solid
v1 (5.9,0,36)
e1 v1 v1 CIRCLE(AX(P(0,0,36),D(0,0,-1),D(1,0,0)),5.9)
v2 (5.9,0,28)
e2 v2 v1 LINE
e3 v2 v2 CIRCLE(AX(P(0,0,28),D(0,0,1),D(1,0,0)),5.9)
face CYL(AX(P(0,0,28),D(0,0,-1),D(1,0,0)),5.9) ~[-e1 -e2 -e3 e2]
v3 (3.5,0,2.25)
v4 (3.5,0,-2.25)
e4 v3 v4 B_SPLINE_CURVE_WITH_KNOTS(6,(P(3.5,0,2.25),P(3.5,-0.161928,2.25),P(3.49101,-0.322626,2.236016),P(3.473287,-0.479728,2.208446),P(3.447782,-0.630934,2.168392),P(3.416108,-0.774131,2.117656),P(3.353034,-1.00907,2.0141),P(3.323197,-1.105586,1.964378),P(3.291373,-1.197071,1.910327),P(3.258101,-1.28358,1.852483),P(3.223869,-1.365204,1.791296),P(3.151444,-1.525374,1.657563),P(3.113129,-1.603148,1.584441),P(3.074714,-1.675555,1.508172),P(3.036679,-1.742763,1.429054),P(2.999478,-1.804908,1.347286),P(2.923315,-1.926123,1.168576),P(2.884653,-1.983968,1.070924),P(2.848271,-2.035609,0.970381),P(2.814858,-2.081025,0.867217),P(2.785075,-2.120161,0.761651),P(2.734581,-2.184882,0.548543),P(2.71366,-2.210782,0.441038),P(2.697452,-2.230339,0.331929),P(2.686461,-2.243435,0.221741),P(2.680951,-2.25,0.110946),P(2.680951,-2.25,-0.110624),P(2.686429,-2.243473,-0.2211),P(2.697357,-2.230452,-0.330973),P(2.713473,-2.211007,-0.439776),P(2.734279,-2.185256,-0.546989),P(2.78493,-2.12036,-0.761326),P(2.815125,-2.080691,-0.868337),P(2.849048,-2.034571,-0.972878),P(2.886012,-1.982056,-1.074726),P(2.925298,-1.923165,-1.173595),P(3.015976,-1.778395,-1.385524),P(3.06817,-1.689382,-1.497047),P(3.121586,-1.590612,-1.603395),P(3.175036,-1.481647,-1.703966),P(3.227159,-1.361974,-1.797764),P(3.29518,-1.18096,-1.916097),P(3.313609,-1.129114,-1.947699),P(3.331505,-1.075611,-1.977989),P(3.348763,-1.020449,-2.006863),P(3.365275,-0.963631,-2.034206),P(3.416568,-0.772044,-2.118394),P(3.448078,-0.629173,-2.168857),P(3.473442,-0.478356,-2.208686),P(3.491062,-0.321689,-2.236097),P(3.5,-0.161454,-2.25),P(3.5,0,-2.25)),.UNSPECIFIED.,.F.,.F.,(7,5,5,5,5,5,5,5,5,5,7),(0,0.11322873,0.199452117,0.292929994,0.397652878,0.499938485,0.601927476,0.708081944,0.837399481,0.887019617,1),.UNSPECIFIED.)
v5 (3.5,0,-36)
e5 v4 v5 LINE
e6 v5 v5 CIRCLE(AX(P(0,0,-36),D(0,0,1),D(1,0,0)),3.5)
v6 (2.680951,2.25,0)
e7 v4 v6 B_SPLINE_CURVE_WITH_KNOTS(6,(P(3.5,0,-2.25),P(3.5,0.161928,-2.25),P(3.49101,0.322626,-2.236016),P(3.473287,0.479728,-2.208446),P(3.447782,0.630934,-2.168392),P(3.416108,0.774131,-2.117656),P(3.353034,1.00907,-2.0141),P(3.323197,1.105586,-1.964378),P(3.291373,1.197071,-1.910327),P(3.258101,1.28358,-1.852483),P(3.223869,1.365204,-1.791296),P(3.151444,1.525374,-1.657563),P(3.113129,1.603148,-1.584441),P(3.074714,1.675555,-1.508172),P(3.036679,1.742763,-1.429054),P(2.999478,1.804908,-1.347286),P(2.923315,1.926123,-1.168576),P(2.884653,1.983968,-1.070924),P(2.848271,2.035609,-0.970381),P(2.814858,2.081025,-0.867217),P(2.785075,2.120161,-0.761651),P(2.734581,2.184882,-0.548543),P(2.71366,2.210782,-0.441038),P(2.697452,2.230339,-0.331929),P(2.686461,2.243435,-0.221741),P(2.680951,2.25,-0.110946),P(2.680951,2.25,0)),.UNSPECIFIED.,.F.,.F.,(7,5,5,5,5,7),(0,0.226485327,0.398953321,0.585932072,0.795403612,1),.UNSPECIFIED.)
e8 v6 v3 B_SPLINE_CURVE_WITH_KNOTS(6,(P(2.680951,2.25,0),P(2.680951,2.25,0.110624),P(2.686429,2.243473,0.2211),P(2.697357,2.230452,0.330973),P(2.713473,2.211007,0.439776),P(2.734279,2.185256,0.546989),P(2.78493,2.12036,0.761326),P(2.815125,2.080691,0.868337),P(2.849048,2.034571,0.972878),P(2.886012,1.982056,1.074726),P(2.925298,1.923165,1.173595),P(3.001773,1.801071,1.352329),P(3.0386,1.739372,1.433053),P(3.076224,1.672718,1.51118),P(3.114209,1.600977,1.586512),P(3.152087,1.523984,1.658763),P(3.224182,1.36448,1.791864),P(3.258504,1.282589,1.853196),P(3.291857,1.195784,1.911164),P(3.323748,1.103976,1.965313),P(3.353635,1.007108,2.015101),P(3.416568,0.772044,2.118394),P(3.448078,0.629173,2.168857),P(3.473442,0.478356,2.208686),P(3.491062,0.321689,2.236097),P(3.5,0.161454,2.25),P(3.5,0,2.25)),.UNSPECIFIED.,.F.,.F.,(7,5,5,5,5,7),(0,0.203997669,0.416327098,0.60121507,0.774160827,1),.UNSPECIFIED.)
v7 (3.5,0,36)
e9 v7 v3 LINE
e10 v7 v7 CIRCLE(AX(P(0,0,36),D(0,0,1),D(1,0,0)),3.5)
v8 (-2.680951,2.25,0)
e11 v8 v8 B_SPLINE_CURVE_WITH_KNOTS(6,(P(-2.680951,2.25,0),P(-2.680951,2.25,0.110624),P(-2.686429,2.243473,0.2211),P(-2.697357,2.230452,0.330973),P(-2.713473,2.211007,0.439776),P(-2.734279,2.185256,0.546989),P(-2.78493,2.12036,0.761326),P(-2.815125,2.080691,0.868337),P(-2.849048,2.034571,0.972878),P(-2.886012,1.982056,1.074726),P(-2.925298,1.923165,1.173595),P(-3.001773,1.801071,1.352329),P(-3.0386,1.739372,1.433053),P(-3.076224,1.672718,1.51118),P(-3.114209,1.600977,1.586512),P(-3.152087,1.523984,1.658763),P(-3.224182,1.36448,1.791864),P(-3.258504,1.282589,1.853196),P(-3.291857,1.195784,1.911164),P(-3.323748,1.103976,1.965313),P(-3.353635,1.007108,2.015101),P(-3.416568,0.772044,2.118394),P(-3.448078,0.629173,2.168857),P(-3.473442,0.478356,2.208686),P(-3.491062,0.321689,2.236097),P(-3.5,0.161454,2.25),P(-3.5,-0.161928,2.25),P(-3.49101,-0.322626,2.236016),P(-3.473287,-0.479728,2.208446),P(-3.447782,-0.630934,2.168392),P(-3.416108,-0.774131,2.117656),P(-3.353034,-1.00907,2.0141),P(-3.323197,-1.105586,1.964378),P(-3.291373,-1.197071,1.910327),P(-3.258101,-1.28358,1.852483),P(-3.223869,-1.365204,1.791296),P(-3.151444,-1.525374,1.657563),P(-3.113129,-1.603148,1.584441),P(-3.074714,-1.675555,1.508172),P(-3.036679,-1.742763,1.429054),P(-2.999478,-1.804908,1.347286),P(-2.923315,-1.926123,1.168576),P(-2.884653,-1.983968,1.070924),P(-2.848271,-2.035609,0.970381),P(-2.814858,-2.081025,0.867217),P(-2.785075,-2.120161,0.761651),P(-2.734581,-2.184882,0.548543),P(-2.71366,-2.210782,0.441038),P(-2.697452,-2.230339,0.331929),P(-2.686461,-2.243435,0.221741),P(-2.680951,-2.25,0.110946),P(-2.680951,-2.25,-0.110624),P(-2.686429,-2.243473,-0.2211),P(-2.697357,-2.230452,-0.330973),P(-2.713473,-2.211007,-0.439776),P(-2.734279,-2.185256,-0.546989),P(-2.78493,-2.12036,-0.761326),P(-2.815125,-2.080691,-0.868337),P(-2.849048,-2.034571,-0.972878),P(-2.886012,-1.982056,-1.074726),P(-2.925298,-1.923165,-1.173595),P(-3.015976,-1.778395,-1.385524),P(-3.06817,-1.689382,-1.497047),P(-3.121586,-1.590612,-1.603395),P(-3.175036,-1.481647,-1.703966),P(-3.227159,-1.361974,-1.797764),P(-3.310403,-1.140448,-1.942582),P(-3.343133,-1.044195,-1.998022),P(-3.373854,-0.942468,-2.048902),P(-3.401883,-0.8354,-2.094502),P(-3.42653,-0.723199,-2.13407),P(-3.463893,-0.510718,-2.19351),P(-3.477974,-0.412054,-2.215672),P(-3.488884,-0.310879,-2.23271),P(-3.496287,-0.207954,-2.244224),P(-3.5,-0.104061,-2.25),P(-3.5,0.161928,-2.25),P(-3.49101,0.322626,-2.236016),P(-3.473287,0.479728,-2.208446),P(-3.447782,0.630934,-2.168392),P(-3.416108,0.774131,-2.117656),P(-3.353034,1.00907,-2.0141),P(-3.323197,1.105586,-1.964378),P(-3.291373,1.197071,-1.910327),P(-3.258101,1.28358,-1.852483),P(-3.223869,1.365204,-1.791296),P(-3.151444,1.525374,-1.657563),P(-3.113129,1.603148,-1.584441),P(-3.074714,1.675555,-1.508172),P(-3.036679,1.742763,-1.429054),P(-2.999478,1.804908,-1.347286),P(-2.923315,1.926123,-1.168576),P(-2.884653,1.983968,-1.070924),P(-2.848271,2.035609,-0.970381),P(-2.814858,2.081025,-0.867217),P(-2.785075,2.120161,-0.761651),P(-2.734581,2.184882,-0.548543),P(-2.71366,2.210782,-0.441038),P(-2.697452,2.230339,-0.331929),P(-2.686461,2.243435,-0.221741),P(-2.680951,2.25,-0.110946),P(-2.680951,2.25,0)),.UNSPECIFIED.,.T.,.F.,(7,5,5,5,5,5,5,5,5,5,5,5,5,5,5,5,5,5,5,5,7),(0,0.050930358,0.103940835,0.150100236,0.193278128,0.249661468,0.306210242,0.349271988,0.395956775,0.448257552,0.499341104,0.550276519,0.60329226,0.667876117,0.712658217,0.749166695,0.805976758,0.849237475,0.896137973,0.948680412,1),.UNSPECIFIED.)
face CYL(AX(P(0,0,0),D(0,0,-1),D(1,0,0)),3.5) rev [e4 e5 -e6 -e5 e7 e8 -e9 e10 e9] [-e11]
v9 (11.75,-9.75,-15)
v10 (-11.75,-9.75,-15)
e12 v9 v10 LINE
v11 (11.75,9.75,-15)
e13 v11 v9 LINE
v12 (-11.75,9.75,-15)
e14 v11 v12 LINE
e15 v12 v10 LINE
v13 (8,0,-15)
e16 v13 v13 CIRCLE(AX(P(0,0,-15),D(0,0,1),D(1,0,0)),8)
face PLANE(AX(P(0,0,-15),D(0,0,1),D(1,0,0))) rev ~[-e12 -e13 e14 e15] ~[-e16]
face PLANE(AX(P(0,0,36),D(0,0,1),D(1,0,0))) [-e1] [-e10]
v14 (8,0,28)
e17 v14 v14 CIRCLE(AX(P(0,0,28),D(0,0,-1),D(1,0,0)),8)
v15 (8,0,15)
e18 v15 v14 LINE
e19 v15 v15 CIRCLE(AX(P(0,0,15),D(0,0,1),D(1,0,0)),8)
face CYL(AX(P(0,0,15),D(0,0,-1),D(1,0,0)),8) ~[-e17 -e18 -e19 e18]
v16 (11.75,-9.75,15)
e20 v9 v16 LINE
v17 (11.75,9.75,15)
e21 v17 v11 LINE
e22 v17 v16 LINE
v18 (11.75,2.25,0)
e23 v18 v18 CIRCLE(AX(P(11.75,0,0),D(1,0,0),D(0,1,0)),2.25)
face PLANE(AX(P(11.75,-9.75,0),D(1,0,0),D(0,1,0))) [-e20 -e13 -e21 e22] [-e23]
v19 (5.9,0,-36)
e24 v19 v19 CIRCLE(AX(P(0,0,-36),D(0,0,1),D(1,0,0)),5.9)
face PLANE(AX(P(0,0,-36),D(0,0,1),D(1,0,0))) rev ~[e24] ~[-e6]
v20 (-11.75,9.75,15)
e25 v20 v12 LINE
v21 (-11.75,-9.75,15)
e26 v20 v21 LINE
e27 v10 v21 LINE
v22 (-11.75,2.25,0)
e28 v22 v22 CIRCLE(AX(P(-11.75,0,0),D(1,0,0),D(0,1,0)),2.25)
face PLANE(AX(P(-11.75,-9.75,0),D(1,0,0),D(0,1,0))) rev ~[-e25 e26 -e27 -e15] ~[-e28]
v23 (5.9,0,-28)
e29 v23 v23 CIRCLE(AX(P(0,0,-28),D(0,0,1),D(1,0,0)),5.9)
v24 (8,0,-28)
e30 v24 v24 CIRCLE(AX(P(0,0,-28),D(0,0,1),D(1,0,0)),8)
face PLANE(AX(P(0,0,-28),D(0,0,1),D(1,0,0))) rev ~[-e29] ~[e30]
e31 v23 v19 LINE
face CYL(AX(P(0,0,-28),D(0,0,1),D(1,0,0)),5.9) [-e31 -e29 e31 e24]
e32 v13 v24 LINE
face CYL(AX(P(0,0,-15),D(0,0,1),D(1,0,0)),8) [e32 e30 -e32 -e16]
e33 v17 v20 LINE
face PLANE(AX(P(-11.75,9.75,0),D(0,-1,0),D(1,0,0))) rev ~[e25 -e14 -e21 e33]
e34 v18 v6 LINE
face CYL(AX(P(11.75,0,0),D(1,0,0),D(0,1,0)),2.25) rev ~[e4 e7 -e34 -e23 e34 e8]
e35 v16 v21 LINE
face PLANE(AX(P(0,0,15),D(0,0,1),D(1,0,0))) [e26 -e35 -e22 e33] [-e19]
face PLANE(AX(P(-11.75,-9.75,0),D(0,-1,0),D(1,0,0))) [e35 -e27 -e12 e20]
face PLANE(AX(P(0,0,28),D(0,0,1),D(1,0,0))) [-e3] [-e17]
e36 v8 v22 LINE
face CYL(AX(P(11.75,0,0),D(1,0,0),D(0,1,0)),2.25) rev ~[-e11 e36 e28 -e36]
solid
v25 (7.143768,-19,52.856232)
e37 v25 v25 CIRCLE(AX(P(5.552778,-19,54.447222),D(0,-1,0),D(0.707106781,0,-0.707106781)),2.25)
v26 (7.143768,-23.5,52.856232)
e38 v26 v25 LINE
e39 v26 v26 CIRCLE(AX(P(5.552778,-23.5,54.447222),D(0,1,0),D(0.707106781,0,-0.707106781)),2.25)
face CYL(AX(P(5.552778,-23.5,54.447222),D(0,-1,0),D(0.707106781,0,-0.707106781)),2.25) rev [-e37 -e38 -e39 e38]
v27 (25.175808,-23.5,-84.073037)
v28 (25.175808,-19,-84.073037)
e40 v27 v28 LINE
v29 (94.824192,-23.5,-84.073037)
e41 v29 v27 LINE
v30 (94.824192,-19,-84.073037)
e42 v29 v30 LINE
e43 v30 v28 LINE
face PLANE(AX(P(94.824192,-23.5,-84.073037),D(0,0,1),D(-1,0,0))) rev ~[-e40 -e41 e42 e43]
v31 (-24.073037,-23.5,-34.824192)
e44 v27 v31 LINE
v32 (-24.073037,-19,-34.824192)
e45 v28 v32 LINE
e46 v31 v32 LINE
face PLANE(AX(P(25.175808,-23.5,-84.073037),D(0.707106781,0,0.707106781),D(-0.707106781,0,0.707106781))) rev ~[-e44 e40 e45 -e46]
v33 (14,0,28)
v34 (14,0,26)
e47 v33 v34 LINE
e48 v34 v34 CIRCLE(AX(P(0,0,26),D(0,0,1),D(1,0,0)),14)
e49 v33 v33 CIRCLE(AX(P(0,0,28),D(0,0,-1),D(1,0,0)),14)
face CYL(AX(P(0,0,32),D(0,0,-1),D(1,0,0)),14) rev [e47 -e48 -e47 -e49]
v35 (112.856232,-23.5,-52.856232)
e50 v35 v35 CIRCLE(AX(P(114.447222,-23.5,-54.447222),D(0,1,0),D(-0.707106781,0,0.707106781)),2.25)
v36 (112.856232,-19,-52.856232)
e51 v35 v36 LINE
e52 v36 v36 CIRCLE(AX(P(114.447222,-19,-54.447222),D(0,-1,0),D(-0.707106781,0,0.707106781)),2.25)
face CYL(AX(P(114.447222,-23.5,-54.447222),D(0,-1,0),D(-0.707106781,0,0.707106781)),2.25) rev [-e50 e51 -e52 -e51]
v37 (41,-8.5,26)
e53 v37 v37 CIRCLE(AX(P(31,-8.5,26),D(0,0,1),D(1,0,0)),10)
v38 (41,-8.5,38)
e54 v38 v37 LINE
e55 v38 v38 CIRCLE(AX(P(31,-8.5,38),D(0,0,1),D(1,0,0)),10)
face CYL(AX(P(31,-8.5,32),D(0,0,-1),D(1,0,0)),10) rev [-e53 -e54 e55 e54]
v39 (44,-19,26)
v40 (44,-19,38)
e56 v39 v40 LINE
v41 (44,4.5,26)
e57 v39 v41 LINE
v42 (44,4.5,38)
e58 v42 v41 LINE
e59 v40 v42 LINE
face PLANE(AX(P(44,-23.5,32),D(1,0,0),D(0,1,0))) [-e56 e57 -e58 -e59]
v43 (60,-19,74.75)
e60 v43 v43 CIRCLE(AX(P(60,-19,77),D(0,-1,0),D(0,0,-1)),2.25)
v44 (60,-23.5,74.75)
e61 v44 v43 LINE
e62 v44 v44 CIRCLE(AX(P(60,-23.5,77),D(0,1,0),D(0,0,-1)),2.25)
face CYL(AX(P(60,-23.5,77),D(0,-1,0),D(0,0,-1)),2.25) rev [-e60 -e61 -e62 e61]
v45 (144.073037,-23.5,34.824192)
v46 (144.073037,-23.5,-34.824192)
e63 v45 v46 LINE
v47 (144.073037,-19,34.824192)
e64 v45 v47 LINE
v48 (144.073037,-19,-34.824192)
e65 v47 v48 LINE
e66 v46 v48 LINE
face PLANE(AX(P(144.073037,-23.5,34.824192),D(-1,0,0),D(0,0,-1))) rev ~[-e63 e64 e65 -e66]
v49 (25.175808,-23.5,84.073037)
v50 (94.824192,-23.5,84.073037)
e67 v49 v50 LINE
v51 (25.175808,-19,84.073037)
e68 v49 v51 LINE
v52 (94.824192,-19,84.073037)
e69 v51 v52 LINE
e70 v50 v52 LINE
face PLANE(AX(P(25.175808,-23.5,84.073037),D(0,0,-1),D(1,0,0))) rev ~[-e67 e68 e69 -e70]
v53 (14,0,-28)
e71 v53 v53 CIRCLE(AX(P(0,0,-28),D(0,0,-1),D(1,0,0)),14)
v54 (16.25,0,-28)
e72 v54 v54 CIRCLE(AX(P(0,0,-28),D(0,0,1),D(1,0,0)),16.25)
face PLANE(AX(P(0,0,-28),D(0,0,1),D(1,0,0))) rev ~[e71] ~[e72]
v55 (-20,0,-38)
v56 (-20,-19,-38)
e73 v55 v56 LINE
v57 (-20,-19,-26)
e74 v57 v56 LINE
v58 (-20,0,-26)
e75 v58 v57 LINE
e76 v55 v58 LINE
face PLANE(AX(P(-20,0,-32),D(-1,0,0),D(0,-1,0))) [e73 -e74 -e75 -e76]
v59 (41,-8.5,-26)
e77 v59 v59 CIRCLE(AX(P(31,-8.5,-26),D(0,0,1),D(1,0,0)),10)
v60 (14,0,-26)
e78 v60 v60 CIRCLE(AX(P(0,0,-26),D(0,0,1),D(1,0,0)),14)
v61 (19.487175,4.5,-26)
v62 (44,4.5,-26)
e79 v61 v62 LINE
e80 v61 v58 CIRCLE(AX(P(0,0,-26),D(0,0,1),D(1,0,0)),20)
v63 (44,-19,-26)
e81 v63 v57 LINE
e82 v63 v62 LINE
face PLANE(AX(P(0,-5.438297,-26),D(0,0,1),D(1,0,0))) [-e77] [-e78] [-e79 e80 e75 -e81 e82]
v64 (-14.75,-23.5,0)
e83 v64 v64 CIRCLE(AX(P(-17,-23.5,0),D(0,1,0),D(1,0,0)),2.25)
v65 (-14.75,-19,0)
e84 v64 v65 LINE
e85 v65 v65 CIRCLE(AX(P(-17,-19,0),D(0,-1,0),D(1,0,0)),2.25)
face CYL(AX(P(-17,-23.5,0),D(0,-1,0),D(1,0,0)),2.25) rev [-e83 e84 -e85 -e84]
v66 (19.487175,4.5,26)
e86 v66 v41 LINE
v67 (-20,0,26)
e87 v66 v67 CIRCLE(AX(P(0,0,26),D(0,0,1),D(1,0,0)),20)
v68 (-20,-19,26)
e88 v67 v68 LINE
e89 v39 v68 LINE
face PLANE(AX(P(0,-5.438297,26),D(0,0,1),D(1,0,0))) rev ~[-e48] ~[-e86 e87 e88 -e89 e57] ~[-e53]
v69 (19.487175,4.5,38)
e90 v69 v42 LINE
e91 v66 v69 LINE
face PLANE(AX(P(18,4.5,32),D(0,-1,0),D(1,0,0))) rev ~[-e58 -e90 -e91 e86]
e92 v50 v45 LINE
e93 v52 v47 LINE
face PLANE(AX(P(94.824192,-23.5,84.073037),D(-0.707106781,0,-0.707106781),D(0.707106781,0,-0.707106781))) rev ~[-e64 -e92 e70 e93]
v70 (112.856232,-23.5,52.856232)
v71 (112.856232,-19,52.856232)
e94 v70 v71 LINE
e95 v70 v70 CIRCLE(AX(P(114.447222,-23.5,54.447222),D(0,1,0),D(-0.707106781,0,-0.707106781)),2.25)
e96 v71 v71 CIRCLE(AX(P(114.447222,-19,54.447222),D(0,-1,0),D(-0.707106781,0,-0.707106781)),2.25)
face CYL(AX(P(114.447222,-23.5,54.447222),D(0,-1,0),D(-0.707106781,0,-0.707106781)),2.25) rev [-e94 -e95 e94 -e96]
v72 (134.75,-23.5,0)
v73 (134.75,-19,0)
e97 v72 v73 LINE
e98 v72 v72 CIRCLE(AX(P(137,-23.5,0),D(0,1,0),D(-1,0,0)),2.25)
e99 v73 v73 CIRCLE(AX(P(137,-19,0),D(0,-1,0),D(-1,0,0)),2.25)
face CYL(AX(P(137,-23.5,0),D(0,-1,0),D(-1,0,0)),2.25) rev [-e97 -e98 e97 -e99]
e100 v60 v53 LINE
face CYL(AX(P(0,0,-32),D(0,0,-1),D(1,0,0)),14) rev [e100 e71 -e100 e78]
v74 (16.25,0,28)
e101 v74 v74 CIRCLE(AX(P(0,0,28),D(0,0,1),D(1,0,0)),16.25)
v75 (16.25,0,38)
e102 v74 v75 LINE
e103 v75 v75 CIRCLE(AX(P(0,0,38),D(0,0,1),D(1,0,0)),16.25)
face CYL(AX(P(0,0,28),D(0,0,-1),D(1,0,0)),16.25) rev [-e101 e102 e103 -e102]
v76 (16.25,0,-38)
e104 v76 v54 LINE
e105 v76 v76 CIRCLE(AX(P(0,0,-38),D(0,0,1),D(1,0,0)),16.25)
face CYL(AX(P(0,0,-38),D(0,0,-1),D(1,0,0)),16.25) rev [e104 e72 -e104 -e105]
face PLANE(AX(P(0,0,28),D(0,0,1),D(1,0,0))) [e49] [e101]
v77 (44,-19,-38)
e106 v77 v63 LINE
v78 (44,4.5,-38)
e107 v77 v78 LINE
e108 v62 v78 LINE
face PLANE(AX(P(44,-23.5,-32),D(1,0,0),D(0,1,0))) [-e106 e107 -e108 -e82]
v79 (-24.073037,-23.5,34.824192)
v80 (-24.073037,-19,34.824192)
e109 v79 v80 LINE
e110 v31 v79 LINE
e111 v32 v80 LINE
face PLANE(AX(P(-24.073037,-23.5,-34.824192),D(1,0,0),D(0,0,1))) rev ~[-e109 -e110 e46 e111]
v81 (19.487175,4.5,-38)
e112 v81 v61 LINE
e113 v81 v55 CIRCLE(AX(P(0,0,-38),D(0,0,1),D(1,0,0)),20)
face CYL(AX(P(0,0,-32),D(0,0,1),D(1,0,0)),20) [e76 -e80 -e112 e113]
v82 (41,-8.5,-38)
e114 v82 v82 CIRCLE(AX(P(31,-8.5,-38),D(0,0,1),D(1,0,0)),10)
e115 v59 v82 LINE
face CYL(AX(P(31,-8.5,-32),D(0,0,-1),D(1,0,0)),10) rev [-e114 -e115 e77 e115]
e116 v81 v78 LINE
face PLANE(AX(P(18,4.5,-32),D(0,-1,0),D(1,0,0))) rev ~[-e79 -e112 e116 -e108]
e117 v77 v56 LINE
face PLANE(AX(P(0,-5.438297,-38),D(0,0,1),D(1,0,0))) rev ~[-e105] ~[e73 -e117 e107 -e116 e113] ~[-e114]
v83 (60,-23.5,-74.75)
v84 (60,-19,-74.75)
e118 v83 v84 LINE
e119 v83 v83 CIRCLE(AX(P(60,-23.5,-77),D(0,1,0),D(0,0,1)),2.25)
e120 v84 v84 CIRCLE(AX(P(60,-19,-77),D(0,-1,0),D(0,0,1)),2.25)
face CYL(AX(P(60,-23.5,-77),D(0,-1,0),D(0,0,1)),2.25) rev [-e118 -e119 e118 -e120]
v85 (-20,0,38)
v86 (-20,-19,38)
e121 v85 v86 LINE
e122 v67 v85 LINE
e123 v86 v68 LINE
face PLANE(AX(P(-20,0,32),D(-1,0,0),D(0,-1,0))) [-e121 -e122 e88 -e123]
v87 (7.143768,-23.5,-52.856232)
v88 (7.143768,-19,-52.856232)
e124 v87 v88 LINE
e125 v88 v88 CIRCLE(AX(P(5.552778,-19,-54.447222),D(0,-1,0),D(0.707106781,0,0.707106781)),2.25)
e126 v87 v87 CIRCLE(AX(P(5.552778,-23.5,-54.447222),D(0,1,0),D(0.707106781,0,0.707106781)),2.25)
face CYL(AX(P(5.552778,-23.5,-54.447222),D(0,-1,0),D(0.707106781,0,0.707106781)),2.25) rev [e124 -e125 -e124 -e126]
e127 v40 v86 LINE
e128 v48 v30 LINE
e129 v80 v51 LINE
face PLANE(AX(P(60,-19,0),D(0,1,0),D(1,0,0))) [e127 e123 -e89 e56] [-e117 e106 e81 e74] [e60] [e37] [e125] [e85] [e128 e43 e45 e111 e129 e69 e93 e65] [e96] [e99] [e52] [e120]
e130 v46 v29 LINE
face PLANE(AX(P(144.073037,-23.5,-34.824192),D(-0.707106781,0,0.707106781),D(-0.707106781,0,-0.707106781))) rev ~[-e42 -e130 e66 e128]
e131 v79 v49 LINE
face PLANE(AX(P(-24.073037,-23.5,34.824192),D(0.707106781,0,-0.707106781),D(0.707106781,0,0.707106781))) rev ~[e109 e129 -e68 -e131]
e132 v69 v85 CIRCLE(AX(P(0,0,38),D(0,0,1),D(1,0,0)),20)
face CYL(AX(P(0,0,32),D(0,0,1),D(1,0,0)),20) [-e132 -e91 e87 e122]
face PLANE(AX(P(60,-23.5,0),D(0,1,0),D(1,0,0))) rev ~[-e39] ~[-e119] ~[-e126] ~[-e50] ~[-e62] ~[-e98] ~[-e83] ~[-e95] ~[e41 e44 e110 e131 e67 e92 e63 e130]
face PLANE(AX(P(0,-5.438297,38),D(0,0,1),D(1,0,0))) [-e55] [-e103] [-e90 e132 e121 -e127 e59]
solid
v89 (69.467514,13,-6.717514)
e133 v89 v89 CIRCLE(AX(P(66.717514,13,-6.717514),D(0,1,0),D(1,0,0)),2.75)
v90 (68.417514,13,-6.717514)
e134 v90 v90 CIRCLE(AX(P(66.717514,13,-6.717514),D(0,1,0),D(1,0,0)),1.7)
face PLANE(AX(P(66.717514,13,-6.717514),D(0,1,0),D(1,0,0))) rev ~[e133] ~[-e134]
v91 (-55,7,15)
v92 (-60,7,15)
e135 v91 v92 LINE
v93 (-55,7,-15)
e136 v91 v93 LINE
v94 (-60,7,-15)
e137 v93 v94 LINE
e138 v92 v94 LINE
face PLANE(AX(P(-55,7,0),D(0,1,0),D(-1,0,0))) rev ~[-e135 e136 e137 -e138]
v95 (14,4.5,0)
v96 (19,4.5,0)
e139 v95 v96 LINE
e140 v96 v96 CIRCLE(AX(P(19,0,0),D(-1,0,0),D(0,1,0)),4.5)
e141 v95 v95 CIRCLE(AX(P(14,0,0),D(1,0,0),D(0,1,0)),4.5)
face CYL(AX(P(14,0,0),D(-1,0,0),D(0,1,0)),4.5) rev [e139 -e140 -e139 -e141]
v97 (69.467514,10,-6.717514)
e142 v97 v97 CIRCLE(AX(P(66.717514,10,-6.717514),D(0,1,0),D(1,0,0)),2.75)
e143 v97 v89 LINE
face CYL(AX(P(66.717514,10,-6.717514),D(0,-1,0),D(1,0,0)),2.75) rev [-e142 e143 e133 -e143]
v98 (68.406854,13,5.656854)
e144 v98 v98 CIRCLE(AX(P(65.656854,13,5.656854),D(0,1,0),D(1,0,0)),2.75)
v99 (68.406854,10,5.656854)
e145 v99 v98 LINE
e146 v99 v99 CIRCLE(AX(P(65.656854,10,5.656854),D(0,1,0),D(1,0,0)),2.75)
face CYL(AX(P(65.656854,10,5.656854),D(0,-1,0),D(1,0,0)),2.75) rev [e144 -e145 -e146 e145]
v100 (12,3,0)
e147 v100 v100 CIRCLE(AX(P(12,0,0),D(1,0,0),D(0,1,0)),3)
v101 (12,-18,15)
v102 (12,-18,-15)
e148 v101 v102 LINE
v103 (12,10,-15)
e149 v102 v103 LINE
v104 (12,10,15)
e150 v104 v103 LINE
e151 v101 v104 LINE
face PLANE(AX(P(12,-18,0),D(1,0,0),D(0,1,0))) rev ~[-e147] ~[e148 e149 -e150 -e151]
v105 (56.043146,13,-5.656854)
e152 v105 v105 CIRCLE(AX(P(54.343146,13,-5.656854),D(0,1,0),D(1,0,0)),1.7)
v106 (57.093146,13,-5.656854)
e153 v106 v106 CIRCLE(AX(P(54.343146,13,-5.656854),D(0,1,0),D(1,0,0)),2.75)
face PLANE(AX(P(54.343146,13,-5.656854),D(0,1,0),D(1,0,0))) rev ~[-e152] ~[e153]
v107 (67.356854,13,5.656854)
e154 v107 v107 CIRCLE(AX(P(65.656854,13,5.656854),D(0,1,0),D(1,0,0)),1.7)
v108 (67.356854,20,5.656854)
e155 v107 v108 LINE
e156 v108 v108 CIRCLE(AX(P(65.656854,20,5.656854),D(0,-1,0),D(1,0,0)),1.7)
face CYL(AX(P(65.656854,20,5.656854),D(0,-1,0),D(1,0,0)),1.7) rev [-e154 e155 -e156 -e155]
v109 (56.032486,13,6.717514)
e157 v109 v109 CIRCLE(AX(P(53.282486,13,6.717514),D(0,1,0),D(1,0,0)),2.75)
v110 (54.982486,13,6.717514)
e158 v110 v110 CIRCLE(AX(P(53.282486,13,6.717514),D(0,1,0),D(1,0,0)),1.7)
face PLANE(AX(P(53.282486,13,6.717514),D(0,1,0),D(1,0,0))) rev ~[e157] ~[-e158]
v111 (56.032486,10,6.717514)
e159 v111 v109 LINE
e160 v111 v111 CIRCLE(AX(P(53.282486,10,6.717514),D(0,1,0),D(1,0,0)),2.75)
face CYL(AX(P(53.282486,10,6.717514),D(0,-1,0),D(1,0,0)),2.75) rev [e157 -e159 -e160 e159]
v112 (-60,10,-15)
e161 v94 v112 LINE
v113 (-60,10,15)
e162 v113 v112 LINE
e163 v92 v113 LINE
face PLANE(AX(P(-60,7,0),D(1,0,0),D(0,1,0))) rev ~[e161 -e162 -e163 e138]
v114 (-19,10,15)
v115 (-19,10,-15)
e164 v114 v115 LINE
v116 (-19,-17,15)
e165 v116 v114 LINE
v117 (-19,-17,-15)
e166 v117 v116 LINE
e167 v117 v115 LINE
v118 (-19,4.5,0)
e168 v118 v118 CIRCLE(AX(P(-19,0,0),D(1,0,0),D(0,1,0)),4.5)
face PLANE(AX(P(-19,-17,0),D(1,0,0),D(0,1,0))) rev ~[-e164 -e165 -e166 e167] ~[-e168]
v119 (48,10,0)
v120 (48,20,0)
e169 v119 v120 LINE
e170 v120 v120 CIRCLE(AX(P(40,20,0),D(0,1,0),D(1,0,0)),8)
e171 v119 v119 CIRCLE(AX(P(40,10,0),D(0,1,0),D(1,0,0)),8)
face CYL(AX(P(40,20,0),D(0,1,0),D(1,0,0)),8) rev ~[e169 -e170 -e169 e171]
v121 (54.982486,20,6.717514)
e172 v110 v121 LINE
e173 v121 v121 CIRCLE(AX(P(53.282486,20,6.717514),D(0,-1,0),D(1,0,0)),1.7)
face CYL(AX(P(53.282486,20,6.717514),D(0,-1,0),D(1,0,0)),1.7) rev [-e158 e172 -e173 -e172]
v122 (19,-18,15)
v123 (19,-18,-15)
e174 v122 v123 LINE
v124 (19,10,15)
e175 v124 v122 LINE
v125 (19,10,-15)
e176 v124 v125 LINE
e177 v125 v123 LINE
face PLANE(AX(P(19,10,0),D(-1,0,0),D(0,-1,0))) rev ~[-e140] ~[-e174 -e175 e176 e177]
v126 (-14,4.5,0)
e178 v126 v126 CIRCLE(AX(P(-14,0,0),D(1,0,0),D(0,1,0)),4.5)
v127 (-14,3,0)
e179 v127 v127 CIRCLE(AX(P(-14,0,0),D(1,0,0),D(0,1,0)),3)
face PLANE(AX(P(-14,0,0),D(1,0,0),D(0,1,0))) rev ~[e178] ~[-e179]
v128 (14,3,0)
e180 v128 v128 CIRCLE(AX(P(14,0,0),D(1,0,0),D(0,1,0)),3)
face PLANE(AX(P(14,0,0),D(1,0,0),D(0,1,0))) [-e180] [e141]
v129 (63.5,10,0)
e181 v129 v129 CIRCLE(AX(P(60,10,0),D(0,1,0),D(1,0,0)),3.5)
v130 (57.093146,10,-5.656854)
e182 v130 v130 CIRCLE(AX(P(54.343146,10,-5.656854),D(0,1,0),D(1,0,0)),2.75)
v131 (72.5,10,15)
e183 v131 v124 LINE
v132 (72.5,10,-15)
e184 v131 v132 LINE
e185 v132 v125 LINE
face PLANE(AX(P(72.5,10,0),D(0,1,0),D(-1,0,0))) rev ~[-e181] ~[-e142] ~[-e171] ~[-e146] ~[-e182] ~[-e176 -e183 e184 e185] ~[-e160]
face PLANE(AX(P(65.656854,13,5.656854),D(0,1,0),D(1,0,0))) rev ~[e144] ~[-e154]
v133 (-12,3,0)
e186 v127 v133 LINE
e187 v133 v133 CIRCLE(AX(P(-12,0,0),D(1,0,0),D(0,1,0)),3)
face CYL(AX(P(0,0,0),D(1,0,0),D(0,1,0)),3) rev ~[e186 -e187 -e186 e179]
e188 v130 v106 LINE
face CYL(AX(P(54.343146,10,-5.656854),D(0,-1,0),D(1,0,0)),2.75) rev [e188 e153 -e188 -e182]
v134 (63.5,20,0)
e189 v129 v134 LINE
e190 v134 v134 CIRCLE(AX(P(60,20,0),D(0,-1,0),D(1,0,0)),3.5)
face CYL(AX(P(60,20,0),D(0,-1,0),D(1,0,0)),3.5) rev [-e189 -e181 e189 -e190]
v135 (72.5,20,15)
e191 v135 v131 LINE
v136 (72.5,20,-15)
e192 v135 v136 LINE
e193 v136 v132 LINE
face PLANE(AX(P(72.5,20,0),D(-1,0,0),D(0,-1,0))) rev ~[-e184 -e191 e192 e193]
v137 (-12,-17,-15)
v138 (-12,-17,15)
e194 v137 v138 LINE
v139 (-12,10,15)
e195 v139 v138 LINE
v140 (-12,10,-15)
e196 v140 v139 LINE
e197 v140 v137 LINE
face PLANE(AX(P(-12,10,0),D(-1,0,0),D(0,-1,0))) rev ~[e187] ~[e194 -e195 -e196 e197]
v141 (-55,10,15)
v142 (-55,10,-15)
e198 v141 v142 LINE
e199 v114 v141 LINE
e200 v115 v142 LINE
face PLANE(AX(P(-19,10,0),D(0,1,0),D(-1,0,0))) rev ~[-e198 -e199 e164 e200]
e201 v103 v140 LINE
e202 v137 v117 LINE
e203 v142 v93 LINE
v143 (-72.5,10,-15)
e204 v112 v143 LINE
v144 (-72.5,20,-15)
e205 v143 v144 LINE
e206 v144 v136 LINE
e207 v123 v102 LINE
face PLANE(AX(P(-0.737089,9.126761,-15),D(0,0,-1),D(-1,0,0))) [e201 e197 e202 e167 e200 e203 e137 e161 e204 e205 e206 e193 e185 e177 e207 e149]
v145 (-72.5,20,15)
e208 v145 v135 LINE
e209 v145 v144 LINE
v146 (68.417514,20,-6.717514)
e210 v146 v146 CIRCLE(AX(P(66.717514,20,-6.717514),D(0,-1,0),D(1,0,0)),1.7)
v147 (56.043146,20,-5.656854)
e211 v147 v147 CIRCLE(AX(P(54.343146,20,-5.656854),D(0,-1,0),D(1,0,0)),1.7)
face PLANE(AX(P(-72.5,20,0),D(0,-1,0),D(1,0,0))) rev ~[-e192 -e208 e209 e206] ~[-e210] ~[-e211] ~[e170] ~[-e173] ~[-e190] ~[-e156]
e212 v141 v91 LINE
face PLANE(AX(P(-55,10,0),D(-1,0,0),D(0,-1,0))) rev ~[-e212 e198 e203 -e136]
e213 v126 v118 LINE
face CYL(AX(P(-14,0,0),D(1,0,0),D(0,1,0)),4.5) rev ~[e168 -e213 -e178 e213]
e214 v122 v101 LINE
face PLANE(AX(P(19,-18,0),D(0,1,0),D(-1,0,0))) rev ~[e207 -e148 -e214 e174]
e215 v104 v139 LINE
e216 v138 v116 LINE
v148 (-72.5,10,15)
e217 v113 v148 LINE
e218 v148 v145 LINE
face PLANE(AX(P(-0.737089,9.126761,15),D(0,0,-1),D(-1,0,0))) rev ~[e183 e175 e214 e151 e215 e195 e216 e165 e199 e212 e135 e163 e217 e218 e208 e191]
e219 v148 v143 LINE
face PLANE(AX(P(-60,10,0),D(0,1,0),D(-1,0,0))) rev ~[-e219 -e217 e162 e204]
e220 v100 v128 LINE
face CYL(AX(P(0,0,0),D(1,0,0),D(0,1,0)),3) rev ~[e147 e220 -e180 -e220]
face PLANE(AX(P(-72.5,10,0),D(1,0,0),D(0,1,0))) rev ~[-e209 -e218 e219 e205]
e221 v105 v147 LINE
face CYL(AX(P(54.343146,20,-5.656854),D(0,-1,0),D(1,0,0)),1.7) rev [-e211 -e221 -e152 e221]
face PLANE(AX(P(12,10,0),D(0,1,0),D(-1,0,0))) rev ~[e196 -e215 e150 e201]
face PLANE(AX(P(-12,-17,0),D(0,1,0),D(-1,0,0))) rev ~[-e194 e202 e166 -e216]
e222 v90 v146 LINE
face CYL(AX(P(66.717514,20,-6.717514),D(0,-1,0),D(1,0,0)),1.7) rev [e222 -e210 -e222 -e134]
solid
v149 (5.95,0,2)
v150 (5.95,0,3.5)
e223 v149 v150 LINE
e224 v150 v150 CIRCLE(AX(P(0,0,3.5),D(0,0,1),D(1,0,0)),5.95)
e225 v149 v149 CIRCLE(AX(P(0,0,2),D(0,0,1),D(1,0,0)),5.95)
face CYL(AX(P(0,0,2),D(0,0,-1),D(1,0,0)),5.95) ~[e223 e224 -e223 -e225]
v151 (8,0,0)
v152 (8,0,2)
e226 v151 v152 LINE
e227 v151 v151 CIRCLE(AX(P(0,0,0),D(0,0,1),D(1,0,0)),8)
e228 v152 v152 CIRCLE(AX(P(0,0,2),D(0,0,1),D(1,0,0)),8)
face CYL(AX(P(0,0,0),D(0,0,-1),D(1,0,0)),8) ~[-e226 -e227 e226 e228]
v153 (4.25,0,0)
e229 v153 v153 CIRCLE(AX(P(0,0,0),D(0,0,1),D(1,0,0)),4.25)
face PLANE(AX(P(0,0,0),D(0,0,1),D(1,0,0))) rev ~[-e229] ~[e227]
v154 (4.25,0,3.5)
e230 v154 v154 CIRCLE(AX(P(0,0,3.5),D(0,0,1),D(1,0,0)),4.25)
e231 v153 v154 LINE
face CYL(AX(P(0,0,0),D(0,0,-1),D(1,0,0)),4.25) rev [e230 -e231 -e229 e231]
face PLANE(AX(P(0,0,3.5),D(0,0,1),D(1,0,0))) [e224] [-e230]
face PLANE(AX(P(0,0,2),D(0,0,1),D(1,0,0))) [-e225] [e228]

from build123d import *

# Parameters (mm, degrees)
SKETCH006_R          = 2.25
EXTRUDE006_DEPTH     = 30
SKETCH005_R          = 20
SKETCH005_R_2        = 5.9
EXTRUDE005_DEPTH     = 12
SKETCH004_R          = 20
SKETCH004_R_2        = 5.9
EXTRUDE004_DEPTH     = 12
SKETCH003_R          = 20
SKETCH003_R_2        = 8
EXTRUDE003_DEPTH     = 21
SKETCH_R             = 20
SKETCH_R_2           = 8
EXTRUDE_DEPTH        = 21
SKETCH001_W          = 23.5
SKETCH001_H          = 19.5
SKETCH001_R          = 3.5
EXTRUDE001_DEPTH     = 36
SKETCH046_R          = 3.5
SKETCH046_R_2        = 1.7
SKETCH046_R_3        = 8
EXTRUDE011_DEPTH     = 10
SKETCH047_R          = 3.5
SKETCH047_R_2        = 2.75
EXTRUDE002_DEPTH     = 3
FUSION003_ROLL_ANGLE = -90
SKETCH014_R          = 4.5
EXTRUDE009_DEPTH     = 6
SKETCH015_R          = 4.5
EXTRUDE010_DEPTH     = 6
SKETCH013_R          = 3
EXTRUDE008_DEPTH     = 20
EXTRUDE007_DEPTH     = 15
SKETCH052_R          = 8
SKETCH052_R_2        = 4.25
EXTRUDE016_DEPTH     = 2
SKETCH053_R          = 5.95
SKETCH053_R_2        = 4.25
EXTRUDE017_DEPTH     = 1.5
CYLINDER001_R        = 16.25
CYLINDER001_DEPTH    = 10
SKETCH049_R          = 14
EXTRUDE013_DEPTH     = 6
SKETCH050_W          = 26
SKETCH050_H          = 28
SKETCH050_R          = 10
EXTRUDE014_DEPTH     = 6
CYLINDER002_R        = 2.25
CYLINDER002_DEPTH    = 10
ARRAY_COUNT          = 8
EXTRUDE018_DEPTH     = 4.5
CUT007_ROLL_ANGLE    = -90
CYLINDER_R           = 16.25
CYLINDER_DEPTH       = 10
SKETCH048_R          = 14
EXTRUDE012_DEPTH     = 6


with BuildPart() as extrude006:
    # Sketch006 (on Face3 of Cut001) → Extrude006 (new body)
    with BuildSketch(Plane.YZ.offset(11.75)):
        Circle(SKETCH006_R)
    extrude(amount=-EXTRUDE006_DEPTH)


with BuildPart() as extrude005:
    # Sketch005 → Extrude005 (new body)
    with BuildSketch(Plane.XY):
        Circle(SKETCH005_R)
        Circle(SKETCH005_R_2, mode=Mode.SUBTRACT)
    extrude(amount=-EXTRUDE005_DEPTH)


with BuildPart() as extrude005_1:
    # Extrude005 placement: moved
    add(extrude005.part.moved(Location((0, 0, -28))))


with BuildPart() as fusion001:
    # Sketch004 → Extrude004 (new body)
    with BuildSketch(Plane.XY):
        Circle(SKETCH004_R)
        Circle(SKETCH004_R_2, mode=Mode.SUBTRACT)
    extrude(amount=EXTRUDE004_DEPTH)


with BuildPart() as fusion001_1:
    # Extrude004 placement: moved
    add(fusion001.part.moved(Location((0, 0, 28))))

    # Fusion001: union Extrude005
    add(extrude005_1.part)


with BuildPart() as extrude003:
    # Sketch003 → Extrude003 (new body)
    with BuildSketch(Plane.XY):
        Circle(SKETCH003_R)
        Circle(SKETCH003_R_2, mode=Mode.SUBTRACT)
    extrude(amount=-EXTRUDE003_DEPTH)


with BuildPart() as extrude003_1:
    # Extrude003 placement: moved
    add(extrude003.part.moved(Location((0, 0, -15))))


with BuildPart() as fusion:
    # Sketch → Extrude (new body)
    with BuildSketch(Plane.XY):
        Circle(SKETCH_R)
        Circle(SKETCH_R_2, mode=Mode.SUBTRACT)
    extrude(amount=EXTRUDE_DEPTH)


with BuildPart() as fusion_1:
    # Extrude placement: moved
    add(fusion.part.moved(Location((0, 0, 15))))

    # Fusion: union Extrude003
    add(extrude003_1.part)


with BuildPart() as cut002:
    # Sketch001 → Extrude001 (new body, symmetric)
    with BuildSketch(Plane.XY):
        Rectangle(SKETCH001_W, SKETCH001_H)
        Circle(SKETCH001_R, mode=Mode.SUBTRACT)
    extrude(amount=EXTRUDE001_DEPTH, both=True)

    # Cut: cut Fusion
    add(fusion_1.part, mode=Mode.SUBTRACT)

    # Cut001: cut Fusion001
    add(fusion001_1.part, mode=Mode.SUBTRACT)

    # Cut002: cut Extrude006
    add(extrude006.part, mode=Mode.SUBTRACT)


with BuildPart() as extrude011:
    # Sketch046 → Extrude011 (new body, symmetric)
    with BuildSketch(Plane.XY):
        Circle(SKETCH046_R)
        with Locations((6.717514, 6.717514)):
            Circle(SKETCH046_R_2)
        with Locations((-6.717514, -6.717514)):
            Circle(SKETCH046_R_2)
        with Locations((5.656854, -5.656854)):
            Circle(SKETCH046_R_2)
        with Locations((-5.656854, 5.656854)):
            Circle(SKETCH046_R_2)
        with Locations((-20, 0)):
            Circle(SKETCH046_R_3)
    extrude(amount=EXTRUDE011_DEPTH, both=True)


with BuildPart() as fusion003:
    # Sketch047 → Extrude002 (new body)
    with BuildSketch(Plane.XY):
        Circle(SKETCH047_R)
        with Locations((6.717514, 6.717514)):
            Circle(SKETCH047_R_2)
        with Locations((-6.717514, -6.717514)):
            Circle(SKETCH047_R_2)
        with Locations((5.656854, -5.656854)):
            Circle(SKETCH047_R_2)
        with Locations((-5.656854, 5.656854)):
            Circle(SKETCH047_R_2)
    extrude(amount=EXTRUDE002_DEPTH)


with BuildPart() as fusion003_1:
    # Extrude002 placement: moved
    add(fusion003.part.moved(Location((0, 0, -10))))

    # Fusion003: union Extrude011
    add(extrude011.part)


with BuildPart() as fusion003_2:
    # Fusion003 roll: moved
    add(fusion003_1.part.rotate(Axis((0, 0, 0), (1, 0, 0)), FUSION003_ROLL_ANGLE))


with BuildPart() as fusion003_3:
    # Fusion003 placement: moved
    add(fusion003_2.part.moved(Location((60, 20, 0))))


with BuildPart() as extrude009:
    # Sketch014 → Extrude009 (new body)
    with BuildSketch(Plane.YZ):
        Circle(SKETCH014_R)
    extrude(amount=EXTRUDE009_DEPTH)


with BuildPart() as extrude009_1:
    # Extrude009 placement: moved
    add(extrude009.part.moved(Location((14, 0, 0))))


with BuildPart() as extrude010:
    # Sketch015 → Extrude010 (new body)
    with BuildSketch(Plane.YZ):
        Circle(SKETCH015_R)
    extrude(amount=-EXTRUDE010_DEPTH)


with BuildPart() as extrude010_1:
    # Extrude010 placement: moved
    add(extrude010.part.moved(Location((-14, 0, 0))))


with BuildPart() as fusion002:
    # Sketch013 → Extrude008 (new body, symmetric)
    with BuildSketch(Plane.YZ):
        Circle(SKETCH013_R)
    extrude(amount=EXTRUDE008_DEPTH, both=True)

    # Fusion002: union Extrude009, Extrude010
    add(extrude009_1.part)
    add(extrude010_1.part)


with BuildPart() as cut004:
    # Sketch007 → Extrude007 (new body, symmetric)
    with BuildSketch(Plane.XY):
        Polygon((-19, -17), (-19, 10), (-55, 10), (-55, 7), (-60, 7), (-60, 10), (-72.5, 10), (-72.5, 20), (72.5, 20), (72.5, 10), (19, 10), (19, -18), (12, -18), (12, 10), (-12, 10), (-12, -17), align=None)
    extrude(amount=EXTRUDE007_DEPTH, both=True)

    # Cut003: cut Fusion002
    add(fusion002.part, mode=Mode.SUBTRACT)

    # Cut004: cut Fusion003
    add(fusion003_3.part, mode=Mode.SUBTRACT)


with BuildPart() as extrude016:
    # Sketch052 → Extrude016 (new body)
    with BuildSketch(Plane.XY):
        Circle(SKETCH052_R)
        Circle(SKETCH052_R_2, mode=Mode.SUBTRACT)
    extrude(amount=EXTRUDE016_DEPTH)


with BuildPart() as fusion006:
    # Sketch053 → Extrude017 (new body)
    with BuildSketch(Plane.XY):
        Circle(SKETCH053_R)
        Circle(SKETCH053_R_2, mode=Mode.SUBTRACT)
    extrude(amount=EXTRUDE017_DEPTH)


with BuildPart() as fusion006_1:
    # Extrude017 placement: moved
    add(fusion006.part.moved(Location((0, 0, 2))))

    # Fusion006: union Extrude016
    add(extrude016.part)


with BuildPart() as cylinder001:
    # Cylinder001 → Cylinder001 (new body)
    with BuildSketch(Plane.XY.offset(-4)):
        Circle(CYLINDER001_R)
    extrude(amount=CYLINDER001_DEPTH)


with BuildPart() as cut006:
    # Sketch049 → Extrude013 (new body, symmetric)
    with BuildSketch(Plane.XY):
        with BuildLine():
            ThreePointArc((20, 0), (0, 20), (-20, 0))
            Line((-20, 0), (-20, -23.5))
            Line((-20, -23.5), (20, -23.5))
            Line((20, -23.5), (20, 0))
        make_face()
        Circle(SKETCH049_R, mode=Mode.SUBTRACT)
    extrude(amount=EXTRUDE013_DEPTH, both=True)

    # Cut006: cut Cylinder001
    add(cylinder001.part, mode=Mode.SUBTRACT)


with BuildPart() as cut006_1:
    # Cut006 placement: moved
    add(cut006.part.moved(Location((0, 0, 32))))


with BuildPart() as extrude014:
    # Sketch050 → Extrude014 (new body, symmetric)
    with BuildSketch(Plane.XY):
        with Locations((0, -1)):
            Rectangle(SKETCH050_W, SKETCH050_H)
        Circle(SKETCH050_R, mode=Mode.SUBTRACT)
    extrude(amount=EXTRUDE014_DEPTH, both=True)


with BuildPart() as extrude014_1:
    # Extrude014 placement: moved
    add(extrude014.part.moved(Location((0, 0, 32))))


with BuildPart() as clone_of_extrude014:
    # Clone base: copy of Extrude014
    add(extrude014_1.part)


with BuildPart() as clone_of_extrude014_1:
    # Clone placement: moved
    add(clone_of_extrude014.part.moved(Location((0, 0, -64))))


with BuildPart() as fusion004:
    # Fusion004 base: copy of Extrude014
    add(extrude014_1.part)

    # Fusion004: union Clone of Extrude014
    add(clone_of_extrude014_1.part)


with BuildPart() as fusion004_1:
    # Fusion004 placement: moved
    add(fusion004.part.moved(Location((31, -8.5, 0))))


with BuildPart() as array:
    # Cylinder002 → Cylinder002 (new body)
    with BuildSketch(Plane(origin=(-77, 0, 0), x_dir=(1, 0, 0), z_dir=(0, 0, 1))):
        Circle(CYLINDER002_R)
    extrude(amount=CYLINDER002_DEPTH)

    # Array: Array ×8 about axis
    array_axis = Axis((0, 0, 0), (0, 0, 1))


with BuildPart() as array_1:
    add(array.part)
    for i in range(1, ARRAY_COUNT):
        add(array.part.rotate(array_axis, i * 360 / ARRAY_COUNT))


with BuildPart() as cut007:
    # Sketch054 → Extrude018 (new body)
    with BuildSketch(Plane.XY):
        Polygon((84.073037, -34.824192), (84.073037, 34.824192), (34.824192, 84.073037), (-34.824192, 84.073037), (-84.073037, 34.824192), (-84.073037, -34.824192), (-34.824192, -84.073037), (34.824192, -84.073037), align=None)
    extrude(amount=EXTRUDE018_DEPTH)

    # Cut007: cut Array
    add(array_1.part, mode=Mode.SUBTRACT)


with BuildPart() as cut007_1:
    # Cut007 roll: moved
    add(cut007.part.rotate(Axis((0, 0, 0), (1, 0, 0)), CUT007_ROLL_ANGLE))


with BuildPart() as cut007_2:
    # Cut007 placement: moved
    add(cut007_1.part.moved(Location((60, -23.5, 0))))


with BuildPart() as cylinder:
    # Cylinder → Cylinder (new body)
    with BuildSketch(Plane.XY.offset(-6)):
        Circle(CYLINDER_R)
    extrude(amount=CYLINDER_DEPTH)


with BuildPart() as fusion007:
    # Sketch048 → Extrude012 (new body, symmetric)
    with BuildSketch(Plane.XY):
        with BuildLine():
            ThreePointArc((20, 0), (0, 20), (-20, 0))
            Line((-20, 0), (-20, -23.5))
            Line((-20, -23.5), (20, -23.5))
            Line((20, -23.5), (20, 0))
        make_face()
        Circle(SKETCH048_R, mode=Mode.SUBTRACT)
    extrude(amount=EXTRUDE012_DEPTH, both=True)

    # Cut005: cut Cylinder
    add(cylinder.part, mode=Mode.SUBTRACT)


with BuildPart() as fusion007_1:
    # Cut005 placement: moved
    add(fusion007.part.moved(Location((0, 0, -32))))

    # Fusion007: union Cut006, Fusion004, Cut007
    add(cut006_1.part)
    add(fusion004_1.part)
    add(cut007_2.part)


solid = Compound([cut002.part, cut004.part, fusion006_1.part, fusion007_1.part])
